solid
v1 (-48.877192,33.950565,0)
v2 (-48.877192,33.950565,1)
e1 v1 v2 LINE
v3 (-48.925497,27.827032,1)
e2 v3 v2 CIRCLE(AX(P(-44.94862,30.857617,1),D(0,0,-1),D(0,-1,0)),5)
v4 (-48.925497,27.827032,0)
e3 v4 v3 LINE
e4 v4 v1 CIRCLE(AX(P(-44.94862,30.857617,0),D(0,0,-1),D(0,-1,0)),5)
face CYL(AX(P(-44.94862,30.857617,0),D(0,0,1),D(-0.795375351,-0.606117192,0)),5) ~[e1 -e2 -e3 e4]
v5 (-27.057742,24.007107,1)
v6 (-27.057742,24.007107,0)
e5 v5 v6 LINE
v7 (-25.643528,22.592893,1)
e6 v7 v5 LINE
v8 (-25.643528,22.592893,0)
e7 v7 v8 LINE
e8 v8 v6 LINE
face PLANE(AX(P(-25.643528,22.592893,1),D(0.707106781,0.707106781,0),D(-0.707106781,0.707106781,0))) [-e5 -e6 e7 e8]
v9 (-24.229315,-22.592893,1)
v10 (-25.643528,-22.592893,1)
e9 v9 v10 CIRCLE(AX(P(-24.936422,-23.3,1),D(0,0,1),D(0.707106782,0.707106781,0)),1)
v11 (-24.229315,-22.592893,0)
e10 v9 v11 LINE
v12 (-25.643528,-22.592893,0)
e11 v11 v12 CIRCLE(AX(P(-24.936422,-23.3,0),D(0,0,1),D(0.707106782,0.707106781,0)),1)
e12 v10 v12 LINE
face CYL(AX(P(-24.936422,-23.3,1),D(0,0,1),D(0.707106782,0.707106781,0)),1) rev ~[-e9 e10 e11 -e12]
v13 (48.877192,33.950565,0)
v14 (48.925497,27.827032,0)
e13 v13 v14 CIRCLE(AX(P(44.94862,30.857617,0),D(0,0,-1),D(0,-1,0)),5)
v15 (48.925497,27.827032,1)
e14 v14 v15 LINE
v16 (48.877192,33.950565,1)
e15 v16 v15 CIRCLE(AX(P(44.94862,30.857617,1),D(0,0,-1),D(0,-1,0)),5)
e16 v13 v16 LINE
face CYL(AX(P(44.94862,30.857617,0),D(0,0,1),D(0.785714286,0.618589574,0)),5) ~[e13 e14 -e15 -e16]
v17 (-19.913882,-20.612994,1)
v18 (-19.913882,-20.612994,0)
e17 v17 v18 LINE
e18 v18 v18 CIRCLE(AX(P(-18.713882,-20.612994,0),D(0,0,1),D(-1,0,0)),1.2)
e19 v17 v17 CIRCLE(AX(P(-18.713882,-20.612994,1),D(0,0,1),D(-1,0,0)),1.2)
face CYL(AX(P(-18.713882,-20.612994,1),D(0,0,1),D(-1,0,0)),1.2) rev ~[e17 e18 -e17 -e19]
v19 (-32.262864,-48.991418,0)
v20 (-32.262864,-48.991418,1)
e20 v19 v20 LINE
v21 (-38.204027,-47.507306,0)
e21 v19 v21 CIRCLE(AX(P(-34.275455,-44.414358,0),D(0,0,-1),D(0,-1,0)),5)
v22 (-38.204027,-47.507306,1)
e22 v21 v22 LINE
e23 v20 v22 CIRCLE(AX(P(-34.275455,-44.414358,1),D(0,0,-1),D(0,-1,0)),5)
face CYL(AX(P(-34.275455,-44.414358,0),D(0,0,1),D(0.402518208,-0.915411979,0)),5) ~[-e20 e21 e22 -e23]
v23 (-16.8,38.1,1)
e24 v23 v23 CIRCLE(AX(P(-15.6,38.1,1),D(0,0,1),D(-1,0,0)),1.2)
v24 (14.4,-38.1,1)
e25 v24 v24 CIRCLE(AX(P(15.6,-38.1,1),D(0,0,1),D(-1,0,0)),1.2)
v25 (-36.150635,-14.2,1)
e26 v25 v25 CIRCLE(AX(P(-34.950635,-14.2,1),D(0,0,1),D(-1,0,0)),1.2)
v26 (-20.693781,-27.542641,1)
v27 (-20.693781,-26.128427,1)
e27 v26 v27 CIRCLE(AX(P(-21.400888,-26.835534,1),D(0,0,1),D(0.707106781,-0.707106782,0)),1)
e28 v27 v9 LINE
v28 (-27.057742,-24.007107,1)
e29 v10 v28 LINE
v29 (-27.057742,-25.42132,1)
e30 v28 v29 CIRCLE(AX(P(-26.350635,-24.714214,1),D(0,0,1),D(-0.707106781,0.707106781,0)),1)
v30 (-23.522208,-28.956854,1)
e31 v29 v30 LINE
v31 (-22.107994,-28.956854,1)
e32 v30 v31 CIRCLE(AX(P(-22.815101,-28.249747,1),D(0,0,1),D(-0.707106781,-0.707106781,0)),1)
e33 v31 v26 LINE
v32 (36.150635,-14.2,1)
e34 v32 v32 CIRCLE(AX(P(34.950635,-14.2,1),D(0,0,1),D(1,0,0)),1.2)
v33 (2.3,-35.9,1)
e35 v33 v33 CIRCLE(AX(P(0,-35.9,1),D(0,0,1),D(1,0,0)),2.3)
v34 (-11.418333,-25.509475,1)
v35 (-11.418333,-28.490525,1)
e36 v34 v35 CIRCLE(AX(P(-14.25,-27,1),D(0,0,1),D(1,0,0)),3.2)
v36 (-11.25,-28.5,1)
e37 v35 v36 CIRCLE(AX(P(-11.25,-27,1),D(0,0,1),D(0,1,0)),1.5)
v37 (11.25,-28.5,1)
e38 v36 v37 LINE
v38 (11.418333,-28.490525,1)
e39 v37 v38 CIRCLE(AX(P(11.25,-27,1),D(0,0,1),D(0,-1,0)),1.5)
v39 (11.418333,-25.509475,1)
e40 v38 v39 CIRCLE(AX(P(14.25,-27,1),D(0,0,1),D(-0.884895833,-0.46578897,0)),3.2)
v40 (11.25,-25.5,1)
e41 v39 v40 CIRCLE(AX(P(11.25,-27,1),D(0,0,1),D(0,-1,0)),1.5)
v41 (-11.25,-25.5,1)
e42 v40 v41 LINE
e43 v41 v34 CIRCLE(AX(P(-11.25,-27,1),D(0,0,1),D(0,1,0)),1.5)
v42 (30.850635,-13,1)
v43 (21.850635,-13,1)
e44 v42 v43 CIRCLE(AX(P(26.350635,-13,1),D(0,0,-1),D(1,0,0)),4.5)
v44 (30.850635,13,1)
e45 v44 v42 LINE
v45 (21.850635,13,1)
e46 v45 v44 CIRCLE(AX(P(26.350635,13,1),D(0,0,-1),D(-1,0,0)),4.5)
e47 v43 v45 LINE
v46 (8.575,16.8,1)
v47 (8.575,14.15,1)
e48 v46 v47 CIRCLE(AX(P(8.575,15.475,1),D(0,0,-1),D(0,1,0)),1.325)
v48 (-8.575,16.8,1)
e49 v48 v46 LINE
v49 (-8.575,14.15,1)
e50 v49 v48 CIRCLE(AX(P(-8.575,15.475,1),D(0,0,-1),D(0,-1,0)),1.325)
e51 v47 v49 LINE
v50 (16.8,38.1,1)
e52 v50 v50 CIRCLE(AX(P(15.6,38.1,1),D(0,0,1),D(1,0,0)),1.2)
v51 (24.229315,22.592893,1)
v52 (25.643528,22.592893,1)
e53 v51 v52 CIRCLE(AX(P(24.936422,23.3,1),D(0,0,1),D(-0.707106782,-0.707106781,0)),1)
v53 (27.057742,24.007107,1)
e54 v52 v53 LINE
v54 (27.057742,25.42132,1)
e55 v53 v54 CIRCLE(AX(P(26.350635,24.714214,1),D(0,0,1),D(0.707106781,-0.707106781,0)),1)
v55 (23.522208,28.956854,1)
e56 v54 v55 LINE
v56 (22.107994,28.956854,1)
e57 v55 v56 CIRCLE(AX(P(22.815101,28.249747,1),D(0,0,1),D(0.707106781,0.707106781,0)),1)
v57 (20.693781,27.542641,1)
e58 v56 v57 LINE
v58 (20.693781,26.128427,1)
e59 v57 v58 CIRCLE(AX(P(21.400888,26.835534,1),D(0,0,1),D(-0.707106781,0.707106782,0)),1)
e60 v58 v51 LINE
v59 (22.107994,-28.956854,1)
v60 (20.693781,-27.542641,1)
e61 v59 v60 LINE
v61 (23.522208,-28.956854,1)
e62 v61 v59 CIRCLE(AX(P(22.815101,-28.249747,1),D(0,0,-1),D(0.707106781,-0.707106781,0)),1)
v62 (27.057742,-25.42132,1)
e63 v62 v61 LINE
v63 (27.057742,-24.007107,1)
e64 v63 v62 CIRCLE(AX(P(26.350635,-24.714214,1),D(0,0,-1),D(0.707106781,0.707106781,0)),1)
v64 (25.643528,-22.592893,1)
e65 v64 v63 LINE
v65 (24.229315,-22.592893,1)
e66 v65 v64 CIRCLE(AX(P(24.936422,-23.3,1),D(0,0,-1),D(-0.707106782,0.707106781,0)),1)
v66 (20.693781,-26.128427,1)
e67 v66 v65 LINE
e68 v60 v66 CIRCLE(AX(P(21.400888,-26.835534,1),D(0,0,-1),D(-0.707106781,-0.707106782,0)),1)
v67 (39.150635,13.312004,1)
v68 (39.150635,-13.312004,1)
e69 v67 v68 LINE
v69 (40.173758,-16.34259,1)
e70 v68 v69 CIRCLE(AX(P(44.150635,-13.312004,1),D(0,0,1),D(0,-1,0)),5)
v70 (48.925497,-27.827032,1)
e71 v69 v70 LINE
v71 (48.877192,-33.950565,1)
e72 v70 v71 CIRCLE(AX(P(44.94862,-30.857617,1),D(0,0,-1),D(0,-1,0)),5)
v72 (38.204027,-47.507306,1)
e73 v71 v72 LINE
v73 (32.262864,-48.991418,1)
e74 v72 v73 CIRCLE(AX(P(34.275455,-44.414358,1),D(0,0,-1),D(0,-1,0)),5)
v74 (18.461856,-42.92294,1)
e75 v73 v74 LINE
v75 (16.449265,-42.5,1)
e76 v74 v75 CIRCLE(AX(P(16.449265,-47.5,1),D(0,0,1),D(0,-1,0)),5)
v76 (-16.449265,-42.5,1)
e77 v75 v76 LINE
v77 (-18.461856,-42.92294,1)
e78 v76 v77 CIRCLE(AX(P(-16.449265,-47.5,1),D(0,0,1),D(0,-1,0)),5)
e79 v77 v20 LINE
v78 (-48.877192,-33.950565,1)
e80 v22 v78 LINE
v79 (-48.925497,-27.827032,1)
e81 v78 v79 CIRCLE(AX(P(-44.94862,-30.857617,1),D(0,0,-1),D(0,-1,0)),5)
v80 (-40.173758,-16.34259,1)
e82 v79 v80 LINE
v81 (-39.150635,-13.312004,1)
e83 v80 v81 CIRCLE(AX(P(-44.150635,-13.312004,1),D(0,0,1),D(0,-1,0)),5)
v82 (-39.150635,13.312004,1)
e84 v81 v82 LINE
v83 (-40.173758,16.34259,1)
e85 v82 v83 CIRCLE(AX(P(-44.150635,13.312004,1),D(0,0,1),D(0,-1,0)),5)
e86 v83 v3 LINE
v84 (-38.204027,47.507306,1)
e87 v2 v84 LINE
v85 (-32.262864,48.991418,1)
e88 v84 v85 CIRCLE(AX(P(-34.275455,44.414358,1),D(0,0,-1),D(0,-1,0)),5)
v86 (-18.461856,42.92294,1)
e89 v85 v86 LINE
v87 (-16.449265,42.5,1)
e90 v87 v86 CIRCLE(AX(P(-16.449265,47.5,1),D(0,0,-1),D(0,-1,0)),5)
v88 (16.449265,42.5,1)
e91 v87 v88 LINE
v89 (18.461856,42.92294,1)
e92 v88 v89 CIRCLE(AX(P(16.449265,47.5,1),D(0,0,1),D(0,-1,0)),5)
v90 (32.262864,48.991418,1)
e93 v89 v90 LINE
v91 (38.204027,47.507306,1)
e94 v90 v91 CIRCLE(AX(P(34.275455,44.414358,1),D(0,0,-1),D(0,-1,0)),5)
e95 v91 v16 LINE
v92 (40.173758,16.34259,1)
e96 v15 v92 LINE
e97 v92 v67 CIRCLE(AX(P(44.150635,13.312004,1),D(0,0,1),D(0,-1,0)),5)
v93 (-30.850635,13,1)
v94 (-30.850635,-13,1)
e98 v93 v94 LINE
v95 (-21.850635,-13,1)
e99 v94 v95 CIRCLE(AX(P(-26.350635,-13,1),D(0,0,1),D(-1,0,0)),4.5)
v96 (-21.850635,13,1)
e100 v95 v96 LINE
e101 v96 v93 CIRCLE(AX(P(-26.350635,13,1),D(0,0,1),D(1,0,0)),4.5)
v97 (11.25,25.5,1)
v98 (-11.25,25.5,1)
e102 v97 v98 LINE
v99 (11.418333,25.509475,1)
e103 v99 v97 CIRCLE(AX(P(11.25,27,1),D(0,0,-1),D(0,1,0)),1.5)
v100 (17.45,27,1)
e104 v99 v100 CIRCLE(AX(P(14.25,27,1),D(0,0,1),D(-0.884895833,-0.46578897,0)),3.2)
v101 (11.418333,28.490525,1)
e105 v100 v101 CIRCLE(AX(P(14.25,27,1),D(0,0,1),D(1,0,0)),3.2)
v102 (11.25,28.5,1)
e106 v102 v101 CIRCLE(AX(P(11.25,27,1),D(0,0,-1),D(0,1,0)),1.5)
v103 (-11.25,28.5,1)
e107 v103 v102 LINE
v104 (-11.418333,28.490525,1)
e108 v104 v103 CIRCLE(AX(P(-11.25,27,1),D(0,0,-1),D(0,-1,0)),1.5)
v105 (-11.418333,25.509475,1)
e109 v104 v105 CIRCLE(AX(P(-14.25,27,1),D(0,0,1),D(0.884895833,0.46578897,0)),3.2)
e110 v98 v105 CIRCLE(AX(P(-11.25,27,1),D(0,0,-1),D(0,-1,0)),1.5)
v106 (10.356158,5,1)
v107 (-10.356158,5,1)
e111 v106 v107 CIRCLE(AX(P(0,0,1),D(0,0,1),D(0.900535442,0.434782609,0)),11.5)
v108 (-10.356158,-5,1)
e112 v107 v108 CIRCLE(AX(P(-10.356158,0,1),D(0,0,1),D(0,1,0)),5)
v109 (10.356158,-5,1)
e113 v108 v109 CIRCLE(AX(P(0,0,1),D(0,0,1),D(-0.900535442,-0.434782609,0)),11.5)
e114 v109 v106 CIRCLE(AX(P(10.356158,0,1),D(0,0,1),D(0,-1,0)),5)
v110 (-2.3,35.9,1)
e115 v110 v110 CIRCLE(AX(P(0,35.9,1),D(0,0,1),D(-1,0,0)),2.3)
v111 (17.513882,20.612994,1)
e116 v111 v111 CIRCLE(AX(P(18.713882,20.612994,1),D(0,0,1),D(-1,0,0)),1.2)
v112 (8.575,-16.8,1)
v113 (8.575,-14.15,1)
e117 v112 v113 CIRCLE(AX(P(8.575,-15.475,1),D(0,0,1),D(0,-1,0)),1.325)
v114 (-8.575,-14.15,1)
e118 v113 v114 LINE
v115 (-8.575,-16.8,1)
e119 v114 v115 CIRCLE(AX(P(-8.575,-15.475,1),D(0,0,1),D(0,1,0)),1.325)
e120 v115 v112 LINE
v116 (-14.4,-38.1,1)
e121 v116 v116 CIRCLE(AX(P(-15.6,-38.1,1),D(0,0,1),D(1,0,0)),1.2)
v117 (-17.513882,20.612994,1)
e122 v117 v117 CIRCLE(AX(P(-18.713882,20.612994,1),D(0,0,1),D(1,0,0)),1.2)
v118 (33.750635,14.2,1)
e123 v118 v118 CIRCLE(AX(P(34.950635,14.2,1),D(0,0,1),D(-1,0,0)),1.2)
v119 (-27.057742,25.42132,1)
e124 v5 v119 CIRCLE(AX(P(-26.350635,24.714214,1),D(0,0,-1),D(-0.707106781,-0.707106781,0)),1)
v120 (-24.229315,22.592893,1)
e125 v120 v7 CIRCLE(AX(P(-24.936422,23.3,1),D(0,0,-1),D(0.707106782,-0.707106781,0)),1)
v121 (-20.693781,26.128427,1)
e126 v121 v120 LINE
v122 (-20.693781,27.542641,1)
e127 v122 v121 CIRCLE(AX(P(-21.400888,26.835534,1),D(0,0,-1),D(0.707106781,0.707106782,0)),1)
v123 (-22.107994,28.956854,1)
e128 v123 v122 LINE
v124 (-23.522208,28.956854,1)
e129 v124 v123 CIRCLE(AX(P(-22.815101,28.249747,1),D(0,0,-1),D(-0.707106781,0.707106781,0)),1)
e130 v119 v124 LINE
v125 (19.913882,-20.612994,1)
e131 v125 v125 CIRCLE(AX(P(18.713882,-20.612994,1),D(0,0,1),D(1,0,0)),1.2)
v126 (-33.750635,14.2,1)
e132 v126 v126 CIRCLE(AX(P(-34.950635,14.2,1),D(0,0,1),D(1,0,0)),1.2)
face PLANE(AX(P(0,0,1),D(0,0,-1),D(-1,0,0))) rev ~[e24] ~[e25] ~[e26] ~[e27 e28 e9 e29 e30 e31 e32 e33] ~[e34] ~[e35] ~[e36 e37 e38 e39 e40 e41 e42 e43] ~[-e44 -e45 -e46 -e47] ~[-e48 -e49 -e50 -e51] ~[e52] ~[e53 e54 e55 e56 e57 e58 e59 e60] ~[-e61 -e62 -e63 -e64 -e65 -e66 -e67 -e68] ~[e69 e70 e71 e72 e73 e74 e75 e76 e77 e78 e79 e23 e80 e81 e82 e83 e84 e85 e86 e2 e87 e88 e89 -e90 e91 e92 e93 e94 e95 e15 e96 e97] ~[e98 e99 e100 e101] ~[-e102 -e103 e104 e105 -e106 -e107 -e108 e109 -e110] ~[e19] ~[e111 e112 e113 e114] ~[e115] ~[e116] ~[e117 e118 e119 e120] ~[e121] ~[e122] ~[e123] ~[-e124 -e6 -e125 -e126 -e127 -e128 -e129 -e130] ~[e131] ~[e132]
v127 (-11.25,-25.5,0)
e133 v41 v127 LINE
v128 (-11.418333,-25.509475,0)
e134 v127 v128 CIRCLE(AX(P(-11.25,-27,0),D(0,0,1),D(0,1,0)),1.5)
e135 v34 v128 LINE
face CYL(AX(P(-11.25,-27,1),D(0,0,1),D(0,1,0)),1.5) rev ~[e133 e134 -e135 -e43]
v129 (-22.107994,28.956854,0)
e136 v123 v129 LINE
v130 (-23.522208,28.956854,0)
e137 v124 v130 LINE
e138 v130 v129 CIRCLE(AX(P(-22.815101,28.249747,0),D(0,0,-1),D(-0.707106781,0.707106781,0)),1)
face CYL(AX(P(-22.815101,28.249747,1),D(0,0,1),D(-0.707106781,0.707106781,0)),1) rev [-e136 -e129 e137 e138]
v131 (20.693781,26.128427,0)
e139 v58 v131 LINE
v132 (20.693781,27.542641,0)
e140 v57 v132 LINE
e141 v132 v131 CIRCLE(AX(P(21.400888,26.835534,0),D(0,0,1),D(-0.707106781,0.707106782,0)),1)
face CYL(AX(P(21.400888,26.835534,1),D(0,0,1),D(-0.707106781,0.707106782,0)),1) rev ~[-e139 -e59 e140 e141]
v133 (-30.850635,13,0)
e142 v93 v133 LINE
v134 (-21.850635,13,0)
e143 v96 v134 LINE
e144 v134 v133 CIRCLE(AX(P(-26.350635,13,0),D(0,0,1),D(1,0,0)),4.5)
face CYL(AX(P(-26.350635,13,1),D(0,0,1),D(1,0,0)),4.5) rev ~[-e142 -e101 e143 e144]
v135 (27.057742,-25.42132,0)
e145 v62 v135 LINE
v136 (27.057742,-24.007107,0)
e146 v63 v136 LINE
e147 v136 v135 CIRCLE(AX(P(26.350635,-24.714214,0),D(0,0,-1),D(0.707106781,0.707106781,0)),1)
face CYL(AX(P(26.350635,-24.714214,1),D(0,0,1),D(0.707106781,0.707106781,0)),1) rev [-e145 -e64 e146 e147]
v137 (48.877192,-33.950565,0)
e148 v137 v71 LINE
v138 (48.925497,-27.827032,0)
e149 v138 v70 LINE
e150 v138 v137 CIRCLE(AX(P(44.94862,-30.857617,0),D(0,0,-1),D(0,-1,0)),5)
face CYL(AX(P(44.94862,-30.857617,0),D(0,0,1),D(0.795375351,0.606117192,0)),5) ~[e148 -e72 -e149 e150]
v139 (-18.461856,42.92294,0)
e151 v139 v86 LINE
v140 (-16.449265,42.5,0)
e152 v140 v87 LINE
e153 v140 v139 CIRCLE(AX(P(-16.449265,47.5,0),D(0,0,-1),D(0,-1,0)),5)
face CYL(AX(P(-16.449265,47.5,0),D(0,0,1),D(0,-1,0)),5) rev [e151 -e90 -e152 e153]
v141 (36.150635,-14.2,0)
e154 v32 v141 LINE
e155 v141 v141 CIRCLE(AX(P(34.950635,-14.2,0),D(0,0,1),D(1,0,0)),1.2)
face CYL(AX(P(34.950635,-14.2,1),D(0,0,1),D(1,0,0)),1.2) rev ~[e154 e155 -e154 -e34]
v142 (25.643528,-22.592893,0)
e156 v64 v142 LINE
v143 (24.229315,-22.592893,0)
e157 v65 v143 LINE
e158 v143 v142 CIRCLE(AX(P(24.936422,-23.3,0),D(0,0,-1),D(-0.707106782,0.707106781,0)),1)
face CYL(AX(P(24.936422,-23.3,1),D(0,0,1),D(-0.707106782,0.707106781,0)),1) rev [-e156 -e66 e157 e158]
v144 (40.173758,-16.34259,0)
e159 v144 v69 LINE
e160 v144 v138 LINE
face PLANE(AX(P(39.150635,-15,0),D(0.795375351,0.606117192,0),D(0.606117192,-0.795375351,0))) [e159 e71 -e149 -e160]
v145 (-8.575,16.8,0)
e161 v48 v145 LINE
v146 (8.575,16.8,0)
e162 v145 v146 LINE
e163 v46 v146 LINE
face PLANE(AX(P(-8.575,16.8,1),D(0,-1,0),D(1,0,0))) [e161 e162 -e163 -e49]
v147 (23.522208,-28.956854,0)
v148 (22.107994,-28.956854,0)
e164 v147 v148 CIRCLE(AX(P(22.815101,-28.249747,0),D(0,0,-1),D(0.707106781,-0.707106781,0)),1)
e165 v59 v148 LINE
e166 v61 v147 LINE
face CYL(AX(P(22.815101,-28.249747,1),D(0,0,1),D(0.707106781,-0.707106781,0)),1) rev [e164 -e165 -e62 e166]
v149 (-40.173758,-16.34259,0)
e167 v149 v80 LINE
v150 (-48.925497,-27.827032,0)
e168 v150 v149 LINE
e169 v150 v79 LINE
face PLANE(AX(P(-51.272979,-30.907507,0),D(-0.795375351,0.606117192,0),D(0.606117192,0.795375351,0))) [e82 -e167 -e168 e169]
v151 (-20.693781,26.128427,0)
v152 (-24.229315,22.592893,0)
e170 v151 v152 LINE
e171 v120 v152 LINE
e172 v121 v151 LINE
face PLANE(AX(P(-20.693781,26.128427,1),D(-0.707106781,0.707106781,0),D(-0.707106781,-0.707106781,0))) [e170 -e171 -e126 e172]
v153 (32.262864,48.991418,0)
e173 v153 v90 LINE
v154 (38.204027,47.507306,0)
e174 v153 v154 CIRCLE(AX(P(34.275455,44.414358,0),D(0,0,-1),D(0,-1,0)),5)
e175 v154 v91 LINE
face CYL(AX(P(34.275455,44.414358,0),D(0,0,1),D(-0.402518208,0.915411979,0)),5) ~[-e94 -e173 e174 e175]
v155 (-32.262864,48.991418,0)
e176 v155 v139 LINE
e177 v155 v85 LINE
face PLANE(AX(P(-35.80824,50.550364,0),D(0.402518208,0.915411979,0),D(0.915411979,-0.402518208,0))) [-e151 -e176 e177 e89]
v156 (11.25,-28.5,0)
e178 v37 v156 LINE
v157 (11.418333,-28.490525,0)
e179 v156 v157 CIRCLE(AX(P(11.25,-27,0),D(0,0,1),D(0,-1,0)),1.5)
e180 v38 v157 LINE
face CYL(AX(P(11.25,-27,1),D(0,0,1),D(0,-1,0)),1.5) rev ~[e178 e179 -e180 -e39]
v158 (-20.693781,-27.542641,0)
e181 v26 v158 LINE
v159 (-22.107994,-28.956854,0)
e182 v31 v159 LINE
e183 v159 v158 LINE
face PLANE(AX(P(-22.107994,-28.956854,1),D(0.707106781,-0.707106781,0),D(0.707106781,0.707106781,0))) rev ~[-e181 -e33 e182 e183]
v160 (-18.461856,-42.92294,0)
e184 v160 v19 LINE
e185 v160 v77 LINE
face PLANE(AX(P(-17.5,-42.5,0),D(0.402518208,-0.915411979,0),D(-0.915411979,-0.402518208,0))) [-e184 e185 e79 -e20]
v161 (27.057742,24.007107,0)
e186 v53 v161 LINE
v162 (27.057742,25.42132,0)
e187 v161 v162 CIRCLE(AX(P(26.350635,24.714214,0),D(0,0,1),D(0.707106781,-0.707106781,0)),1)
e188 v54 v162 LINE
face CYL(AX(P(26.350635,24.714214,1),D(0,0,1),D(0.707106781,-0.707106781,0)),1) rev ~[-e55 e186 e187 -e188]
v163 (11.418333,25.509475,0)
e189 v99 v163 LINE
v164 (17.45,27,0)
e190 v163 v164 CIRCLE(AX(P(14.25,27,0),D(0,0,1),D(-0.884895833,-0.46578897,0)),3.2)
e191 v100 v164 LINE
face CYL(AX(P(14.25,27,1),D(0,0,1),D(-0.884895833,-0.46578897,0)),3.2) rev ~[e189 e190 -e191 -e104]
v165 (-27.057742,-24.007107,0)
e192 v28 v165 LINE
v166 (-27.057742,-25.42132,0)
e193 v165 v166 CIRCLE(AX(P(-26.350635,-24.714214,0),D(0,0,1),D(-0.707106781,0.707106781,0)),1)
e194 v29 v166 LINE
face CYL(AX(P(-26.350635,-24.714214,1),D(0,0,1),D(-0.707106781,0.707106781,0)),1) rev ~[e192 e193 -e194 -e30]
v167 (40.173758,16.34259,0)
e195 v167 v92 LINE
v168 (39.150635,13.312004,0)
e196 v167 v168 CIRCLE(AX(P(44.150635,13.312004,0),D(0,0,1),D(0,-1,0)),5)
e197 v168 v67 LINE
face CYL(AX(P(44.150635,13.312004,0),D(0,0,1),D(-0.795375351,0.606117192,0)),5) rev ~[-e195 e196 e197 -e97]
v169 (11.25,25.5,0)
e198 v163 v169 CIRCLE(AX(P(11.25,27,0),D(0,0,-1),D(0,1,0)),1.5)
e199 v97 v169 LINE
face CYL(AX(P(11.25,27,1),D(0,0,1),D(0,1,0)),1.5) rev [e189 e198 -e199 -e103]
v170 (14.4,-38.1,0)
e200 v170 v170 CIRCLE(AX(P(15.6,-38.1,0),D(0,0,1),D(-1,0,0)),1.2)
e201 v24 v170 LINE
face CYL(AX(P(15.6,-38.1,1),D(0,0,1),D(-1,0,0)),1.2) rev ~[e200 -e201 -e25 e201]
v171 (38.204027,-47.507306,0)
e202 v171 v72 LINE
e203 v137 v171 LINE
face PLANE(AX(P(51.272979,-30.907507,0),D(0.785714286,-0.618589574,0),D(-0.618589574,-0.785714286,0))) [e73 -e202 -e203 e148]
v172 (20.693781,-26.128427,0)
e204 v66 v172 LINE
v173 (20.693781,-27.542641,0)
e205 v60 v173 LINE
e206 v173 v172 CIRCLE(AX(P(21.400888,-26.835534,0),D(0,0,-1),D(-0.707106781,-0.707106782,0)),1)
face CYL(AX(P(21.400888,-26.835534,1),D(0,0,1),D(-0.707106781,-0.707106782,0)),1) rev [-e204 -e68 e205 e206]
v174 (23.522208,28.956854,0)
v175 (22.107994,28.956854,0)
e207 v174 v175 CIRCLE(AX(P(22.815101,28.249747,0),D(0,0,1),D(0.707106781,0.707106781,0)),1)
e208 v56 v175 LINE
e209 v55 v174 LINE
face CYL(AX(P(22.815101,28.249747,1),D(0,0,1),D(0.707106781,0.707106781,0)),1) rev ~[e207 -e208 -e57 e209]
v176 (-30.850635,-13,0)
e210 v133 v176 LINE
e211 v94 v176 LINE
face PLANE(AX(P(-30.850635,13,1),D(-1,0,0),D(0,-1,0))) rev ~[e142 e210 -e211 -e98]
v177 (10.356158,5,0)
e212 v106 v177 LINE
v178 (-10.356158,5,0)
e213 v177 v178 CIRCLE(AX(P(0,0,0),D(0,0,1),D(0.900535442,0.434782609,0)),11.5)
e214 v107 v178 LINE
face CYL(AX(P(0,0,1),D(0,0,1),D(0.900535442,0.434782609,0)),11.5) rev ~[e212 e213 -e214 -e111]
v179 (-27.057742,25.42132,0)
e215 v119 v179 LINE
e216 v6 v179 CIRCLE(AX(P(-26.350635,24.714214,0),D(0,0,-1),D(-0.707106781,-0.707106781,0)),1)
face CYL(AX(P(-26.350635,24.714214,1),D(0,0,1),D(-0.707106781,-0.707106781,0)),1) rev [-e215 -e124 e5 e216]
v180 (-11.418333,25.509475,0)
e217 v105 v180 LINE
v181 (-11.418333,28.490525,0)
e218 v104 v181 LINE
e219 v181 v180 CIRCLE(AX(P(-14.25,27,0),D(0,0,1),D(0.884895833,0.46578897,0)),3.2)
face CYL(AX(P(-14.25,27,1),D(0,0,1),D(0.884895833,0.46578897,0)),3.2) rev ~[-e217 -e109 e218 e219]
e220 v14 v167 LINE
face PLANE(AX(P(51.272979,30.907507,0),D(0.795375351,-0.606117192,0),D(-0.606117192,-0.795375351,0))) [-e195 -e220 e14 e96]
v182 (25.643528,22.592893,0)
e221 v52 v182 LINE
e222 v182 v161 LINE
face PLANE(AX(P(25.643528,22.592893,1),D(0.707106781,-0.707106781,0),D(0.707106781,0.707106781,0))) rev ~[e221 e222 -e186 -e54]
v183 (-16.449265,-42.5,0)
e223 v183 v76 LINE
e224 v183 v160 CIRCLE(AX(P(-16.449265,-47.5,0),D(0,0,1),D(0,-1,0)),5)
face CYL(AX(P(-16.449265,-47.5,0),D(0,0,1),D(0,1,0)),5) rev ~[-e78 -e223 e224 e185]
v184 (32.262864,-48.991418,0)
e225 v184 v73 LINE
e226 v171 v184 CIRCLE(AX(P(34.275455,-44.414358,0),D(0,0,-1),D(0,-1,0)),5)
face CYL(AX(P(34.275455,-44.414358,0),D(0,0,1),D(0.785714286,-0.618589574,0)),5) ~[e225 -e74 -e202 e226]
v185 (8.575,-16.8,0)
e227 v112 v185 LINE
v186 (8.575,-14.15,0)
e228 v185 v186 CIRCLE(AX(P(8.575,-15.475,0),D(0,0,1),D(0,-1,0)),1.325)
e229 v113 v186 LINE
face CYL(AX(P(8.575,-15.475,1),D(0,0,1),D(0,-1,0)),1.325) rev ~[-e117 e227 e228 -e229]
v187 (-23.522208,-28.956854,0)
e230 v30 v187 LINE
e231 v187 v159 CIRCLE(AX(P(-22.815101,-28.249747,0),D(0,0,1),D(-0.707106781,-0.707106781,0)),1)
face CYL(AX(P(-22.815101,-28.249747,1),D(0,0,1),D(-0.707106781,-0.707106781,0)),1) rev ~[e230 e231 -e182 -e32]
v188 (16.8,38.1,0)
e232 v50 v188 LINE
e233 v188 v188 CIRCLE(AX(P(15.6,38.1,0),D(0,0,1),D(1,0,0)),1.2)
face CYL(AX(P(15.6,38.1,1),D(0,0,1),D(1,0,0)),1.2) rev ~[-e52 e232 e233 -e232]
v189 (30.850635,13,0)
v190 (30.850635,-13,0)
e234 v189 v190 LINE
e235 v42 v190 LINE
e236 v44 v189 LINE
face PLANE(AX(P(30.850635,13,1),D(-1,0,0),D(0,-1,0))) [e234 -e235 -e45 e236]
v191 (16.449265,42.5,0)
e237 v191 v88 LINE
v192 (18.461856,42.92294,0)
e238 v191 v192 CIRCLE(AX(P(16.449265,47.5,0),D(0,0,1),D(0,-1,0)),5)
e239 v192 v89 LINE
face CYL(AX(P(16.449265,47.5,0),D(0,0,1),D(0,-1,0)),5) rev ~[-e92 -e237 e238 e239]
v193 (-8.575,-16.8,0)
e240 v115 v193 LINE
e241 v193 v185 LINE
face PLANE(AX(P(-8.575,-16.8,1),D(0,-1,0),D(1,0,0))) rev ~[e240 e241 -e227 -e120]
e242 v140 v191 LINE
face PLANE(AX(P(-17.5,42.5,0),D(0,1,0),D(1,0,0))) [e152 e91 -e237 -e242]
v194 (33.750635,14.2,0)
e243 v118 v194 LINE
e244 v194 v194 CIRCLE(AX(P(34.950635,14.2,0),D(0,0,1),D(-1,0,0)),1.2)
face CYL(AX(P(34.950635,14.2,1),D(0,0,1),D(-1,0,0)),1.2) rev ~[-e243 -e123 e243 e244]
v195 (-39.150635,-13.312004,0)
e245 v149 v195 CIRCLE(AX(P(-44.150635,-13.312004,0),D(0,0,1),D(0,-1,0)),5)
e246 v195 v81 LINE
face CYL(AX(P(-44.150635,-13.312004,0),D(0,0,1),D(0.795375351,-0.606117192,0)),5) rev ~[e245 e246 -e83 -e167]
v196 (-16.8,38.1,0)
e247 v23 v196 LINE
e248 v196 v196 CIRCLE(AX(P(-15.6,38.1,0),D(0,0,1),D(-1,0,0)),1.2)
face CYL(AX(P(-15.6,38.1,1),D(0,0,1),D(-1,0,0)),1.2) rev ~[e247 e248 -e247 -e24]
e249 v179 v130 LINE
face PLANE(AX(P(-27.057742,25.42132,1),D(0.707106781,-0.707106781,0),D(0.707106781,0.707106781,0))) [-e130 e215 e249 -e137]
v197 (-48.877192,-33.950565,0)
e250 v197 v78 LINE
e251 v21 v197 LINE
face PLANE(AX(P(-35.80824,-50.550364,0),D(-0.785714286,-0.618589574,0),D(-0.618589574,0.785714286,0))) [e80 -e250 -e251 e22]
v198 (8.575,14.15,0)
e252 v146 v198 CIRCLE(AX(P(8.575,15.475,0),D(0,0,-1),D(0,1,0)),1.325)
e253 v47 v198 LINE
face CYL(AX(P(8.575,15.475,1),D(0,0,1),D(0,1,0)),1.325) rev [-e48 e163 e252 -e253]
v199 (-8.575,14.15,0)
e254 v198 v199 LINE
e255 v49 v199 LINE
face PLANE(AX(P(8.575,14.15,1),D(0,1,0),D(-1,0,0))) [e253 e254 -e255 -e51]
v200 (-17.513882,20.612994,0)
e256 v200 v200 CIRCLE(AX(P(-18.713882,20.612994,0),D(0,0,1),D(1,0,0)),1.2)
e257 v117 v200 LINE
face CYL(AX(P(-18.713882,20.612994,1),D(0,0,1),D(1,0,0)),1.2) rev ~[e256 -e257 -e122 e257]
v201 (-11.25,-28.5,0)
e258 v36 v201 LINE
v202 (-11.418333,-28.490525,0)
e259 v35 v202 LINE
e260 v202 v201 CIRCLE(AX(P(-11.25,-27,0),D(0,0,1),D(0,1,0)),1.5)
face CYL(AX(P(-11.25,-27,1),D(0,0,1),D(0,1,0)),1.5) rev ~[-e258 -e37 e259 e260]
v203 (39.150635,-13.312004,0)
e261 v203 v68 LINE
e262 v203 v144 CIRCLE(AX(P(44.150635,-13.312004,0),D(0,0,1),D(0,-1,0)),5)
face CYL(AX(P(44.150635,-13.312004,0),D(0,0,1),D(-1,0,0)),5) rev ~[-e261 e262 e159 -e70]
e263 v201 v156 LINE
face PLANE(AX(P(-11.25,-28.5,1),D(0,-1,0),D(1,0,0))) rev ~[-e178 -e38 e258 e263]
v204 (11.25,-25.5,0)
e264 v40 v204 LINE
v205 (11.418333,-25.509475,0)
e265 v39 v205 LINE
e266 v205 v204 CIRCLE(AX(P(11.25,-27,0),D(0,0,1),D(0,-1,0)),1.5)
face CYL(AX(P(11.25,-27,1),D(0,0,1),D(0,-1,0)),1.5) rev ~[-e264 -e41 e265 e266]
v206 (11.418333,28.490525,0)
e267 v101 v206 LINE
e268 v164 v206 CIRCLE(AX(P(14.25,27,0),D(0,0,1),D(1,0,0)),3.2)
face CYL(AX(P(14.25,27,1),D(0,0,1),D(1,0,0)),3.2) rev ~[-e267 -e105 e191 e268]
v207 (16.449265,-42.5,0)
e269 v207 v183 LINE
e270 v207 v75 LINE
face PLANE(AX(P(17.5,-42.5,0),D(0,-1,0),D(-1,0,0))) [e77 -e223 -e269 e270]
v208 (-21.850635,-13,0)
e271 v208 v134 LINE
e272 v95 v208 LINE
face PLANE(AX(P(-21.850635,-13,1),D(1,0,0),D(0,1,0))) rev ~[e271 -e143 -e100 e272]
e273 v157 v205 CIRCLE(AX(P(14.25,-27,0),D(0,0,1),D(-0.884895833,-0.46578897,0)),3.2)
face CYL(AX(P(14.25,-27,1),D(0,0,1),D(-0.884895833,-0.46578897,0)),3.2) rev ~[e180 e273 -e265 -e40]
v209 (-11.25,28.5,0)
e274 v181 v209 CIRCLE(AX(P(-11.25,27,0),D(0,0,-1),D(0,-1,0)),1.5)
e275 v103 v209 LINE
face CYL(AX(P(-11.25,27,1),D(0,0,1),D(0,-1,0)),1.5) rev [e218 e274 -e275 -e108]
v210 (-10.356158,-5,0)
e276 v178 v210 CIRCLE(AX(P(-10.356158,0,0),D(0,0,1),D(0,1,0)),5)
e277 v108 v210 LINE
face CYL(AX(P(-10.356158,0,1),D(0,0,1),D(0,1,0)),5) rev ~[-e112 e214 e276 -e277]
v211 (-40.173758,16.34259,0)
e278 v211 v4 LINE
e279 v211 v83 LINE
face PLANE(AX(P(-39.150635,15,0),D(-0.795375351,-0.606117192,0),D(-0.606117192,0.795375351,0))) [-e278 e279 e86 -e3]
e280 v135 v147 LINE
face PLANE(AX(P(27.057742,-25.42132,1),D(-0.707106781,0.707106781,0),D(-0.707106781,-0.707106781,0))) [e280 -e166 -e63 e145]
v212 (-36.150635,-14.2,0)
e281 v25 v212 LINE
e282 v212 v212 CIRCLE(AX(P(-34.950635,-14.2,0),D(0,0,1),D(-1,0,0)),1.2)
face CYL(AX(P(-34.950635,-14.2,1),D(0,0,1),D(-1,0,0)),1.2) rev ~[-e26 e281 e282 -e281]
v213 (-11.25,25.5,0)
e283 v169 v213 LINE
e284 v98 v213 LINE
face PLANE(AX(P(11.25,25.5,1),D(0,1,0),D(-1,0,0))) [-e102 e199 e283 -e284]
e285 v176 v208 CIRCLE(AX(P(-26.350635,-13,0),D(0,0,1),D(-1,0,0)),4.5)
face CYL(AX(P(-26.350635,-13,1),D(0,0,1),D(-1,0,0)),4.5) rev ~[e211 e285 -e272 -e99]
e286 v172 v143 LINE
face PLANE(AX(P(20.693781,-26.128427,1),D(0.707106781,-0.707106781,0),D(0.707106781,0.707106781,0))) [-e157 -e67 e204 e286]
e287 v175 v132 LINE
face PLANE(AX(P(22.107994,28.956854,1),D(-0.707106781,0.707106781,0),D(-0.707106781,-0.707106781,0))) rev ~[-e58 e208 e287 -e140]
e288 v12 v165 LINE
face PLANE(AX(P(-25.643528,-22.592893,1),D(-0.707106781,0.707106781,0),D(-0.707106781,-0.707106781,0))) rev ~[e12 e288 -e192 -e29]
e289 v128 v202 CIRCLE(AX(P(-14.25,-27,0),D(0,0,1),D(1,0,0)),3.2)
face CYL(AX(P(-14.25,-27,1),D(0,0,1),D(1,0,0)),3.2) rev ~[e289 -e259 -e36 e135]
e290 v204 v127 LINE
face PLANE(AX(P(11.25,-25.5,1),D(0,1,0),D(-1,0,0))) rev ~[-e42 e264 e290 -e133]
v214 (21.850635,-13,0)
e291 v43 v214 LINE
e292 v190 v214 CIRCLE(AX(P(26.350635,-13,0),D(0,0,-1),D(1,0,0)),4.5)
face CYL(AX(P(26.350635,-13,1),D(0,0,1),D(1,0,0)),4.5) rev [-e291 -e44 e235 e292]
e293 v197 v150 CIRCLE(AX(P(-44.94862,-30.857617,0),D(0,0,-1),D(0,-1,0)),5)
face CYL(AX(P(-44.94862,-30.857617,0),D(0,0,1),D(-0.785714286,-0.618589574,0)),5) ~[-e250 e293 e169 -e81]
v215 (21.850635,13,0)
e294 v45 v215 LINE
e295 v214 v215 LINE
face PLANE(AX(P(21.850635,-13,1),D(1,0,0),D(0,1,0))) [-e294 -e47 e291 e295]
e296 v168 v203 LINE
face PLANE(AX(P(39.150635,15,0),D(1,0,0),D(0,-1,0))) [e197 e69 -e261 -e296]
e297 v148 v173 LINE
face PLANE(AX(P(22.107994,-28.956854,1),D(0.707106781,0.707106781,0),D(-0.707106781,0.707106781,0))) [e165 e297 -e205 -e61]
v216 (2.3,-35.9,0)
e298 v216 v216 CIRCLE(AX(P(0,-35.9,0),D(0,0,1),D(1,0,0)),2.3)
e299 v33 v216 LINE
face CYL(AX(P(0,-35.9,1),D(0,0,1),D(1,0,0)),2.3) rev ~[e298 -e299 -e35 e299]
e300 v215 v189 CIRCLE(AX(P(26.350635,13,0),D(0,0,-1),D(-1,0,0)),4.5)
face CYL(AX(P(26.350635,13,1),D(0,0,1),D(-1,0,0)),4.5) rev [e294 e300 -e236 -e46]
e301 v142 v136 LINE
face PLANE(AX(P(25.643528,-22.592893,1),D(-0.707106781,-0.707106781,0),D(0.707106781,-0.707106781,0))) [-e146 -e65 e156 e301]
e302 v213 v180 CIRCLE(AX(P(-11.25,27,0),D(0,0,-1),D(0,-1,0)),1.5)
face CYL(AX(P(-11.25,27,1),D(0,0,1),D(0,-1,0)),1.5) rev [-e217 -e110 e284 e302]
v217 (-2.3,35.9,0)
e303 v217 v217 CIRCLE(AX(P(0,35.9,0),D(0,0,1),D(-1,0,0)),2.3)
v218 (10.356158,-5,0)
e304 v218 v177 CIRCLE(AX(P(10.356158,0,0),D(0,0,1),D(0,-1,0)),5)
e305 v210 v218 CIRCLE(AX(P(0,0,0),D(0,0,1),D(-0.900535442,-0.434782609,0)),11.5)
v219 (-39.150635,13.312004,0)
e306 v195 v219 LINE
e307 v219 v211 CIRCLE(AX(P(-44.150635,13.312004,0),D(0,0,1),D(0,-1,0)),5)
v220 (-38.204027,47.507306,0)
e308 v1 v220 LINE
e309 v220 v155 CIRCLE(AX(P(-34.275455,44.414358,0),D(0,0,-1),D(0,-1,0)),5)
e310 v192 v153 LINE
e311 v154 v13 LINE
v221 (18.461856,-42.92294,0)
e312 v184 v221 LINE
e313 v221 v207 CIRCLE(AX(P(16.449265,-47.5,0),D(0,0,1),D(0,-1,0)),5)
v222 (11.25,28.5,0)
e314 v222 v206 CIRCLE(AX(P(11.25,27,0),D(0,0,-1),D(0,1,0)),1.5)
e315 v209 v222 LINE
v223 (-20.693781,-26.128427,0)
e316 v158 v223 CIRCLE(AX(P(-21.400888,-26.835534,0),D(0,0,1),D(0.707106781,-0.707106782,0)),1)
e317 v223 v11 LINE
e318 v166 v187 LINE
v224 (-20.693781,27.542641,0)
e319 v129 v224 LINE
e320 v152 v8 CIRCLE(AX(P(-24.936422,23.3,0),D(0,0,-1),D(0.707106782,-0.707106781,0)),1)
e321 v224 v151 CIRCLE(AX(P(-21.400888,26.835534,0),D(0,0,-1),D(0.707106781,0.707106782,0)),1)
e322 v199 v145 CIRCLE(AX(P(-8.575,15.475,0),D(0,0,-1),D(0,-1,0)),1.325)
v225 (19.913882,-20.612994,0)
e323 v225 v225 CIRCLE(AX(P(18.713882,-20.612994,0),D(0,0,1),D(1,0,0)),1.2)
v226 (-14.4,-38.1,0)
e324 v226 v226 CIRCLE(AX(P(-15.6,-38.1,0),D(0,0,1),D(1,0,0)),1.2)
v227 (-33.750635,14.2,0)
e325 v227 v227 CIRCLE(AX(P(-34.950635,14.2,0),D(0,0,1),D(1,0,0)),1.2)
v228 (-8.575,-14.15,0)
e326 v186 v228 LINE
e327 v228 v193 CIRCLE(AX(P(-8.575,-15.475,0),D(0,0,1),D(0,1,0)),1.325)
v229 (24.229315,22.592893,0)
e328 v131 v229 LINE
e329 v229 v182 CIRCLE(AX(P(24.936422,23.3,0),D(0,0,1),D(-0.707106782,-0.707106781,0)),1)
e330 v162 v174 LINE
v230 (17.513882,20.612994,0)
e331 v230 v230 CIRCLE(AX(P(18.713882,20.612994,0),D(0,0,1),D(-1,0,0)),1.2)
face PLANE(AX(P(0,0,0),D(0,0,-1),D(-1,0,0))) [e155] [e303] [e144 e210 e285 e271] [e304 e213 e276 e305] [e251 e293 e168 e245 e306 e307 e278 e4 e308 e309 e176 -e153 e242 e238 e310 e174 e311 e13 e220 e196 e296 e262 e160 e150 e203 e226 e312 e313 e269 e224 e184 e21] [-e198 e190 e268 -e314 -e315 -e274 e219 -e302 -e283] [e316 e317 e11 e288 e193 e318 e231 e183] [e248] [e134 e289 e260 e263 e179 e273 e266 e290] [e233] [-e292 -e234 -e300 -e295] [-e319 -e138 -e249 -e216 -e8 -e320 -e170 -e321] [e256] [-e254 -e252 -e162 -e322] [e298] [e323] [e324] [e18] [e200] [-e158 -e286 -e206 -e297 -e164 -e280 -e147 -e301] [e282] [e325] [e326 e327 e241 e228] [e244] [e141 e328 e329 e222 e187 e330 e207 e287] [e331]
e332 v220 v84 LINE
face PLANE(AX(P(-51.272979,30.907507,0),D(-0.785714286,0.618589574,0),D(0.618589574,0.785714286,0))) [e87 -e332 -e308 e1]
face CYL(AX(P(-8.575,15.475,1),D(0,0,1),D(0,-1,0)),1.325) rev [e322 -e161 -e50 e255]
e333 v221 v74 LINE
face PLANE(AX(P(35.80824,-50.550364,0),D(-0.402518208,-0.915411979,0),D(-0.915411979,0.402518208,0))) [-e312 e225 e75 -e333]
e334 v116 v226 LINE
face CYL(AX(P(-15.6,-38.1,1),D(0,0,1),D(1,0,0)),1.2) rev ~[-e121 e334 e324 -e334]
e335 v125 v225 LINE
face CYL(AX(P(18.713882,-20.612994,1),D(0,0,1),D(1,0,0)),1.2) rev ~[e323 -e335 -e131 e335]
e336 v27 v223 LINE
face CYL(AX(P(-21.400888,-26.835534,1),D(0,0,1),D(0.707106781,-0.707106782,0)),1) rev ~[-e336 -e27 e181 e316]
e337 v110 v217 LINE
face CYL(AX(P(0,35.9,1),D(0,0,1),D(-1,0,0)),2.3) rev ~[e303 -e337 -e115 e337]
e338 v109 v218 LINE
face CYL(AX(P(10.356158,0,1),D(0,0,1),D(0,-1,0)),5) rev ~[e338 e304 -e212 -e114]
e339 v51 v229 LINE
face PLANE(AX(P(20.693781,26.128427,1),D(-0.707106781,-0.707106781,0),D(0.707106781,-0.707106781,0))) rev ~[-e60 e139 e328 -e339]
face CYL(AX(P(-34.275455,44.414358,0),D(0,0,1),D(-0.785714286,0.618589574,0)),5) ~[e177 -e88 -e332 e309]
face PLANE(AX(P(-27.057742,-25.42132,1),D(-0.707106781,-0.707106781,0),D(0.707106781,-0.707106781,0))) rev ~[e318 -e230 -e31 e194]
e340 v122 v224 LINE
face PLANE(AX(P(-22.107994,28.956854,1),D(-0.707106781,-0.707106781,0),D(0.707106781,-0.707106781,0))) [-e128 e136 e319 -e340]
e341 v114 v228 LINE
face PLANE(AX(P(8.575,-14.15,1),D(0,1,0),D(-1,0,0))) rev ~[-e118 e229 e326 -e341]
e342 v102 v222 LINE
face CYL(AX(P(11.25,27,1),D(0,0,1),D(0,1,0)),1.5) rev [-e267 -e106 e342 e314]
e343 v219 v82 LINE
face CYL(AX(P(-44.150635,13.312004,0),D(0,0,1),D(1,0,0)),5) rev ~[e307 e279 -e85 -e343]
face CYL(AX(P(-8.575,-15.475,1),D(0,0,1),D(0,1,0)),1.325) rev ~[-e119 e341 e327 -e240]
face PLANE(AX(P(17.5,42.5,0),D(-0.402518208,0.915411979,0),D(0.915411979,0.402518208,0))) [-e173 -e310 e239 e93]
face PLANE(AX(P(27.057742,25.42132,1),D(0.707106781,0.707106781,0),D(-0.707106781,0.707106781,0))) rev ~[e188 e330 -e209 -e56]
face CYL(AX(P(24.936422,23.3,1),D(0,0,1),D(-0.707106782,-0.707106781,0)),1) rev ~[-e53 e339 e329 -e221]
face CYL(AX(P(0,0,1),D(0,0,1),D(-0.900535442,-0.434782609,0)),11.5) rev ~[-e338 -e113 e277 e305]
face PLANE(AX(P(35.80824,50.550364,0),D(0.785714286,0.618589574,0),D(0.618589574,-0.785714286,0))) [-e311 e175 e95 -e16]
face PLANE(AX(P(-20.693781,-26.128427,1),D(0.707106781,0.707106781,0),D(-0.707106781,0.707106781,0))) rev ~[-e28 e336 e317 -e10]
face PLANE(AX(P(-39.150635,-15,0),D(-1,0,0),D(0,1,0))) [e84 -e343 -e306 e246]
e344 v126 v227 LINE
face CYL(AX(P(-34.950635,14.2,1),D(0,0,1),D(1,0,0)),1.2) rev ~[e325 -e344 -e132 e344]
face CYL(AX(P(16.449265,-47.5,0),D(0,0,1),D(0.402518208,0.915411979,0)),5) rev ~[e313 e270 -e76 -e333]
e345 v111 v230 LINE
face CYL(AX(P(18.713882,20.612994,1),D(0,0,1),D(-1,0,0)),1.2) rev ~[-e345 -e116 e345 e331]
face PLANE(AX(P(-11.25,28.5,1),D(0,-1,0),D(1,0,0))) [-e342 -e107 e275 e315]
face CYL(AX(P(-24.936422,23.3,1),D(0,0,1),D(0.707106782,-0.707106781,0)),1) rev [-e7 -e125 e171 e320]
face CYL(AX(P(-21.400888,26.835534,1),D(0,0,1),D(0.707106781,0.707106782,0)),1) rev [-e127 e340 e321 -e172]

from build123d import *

# Parameters (mm, degrees)
BOSS_EXTRUDE1_DEPTH = 1
FILLET1_R           = 5
SKETCH3_R           = 3.2
CUT_EXTRUDE1_DEPTH  = 1
SKETCH5_R           = 2.3
SKETCH5_R_2         = 1.2
CUT_EXTRUDE2_DEPTH  = 1


with BuildPart() as part:
    # Sketch1 → Boss-Extrude1 (new body)
    with BuildSketch(Plane.XY):
        Polygon((-17.5, 42.5), (17.5, 42.5), (35.808239588, 50.550364165), (51.272978941, 30.907507022), (39.150635095, 15), (39.150635095, -15), (51.272978941, -30.907507022), (35.808239588, -50.550364165), (17.5, -42.5), (-17.5, -42.5), (-35.808239588, -50.550364165), (-51.272978941, -30.907507022), (-39.150635095, -15), (-39.150635095, 15), (-51.272978941, 30.907507022), (-35.808239588, 50.550364165), align=None)
    extrude(amount=BOSS_EXTRUDE1_DEPTH)

    # Fillet1
    fillet1_edges = [part.edges().sort_by_distance(p)[0] for p in [
        (-17.5, 42.5, 0.5),
        (17.5, 42.5, 0.5),
        (35.808239588, 50.550364165, 0.5),
        (51.272978941, 30.907507022, 0.5),
        (39.150635095, 15, 0.5),
        (39.150635095, -15, 0.5),
        (51.272978941, -30.907507022, 0.5),
        (35.808239588, -50.550364165, 0.5),
        (17.5, -42.5, 0.5),
        (-17.5, -42.5, 0.5),
        (-35.808239588, -50.550364165, 0.5),
        (-51.272978941, -30.907507022, 0.5),
        (-39.150635095, -15, 0.5),
        (-39.150635095, 15, 0.5),
        (-51.272978941, 30.907507022, 0.5),
        (-35.808239588, 50.550364165, 0.5),
    ]]
    fillet(fillet1_edges, radius=FILLET1_R)

    # Sketch3 → Cut-Extrude1 (cut)
    with BuildSketch(Plane.XY.offset(1)):
        with BuildLine():
            Line((-30.850635095, 13), (-30.850635095, -13))
            ThreePointArc((-30.850635095, -13), (-26.350635095, -17.5), (-21.850635095, -13))
            Line((-21.850635095, -13), (-21.850635095, 13))
            ThreePointArc((-21.850635095, 13), (-26.350635095, 17.5), (-30.850635095, 13))
        make_face()
        with BuildLine():
            Line((-27.057741876, 25.421320344), (-23.52220797, 28.956854249))
            ThreePointArc((-23.52220797, 28.956854249), (-22.815101189, 29.249747468), (-22.107994407, 28.956854249))
            Line((-22.107994407, 28.956854249), (-20.693780845, 27.542640687))
            ThreePointArc((-20.693780845, 27.542640687), (-20.400887626, 26.835533906), (-20.693780845, 26.128427125))
            Line((-20.693780845, 26.128427125), (-24.229314751, 22.592893219))
            ThreePointArc((-24.229314751, 22.592893219), (-24.936421532, 22.3), (-25.643528313, 22.592893219))
            Line((-25.643528313, 22.592893219), (-27.057741876, 24.007106781))
            ThreePointArc((-27.057741876, 24.007106781), (-27.350635095, 24.714213562), (-27.057741876, 25.421320344))
        make_face()
        with BuildLine():
            ThreePointArc((-11.418333333, 28.490524703), (-12.75, 27), (-11.418333333, 25.509475297))
            ThreePointArc((-11.418333333, 25.509475297), (-11.143447785, 26.232319511), (-11.05, 27))
            ThreePointArc((-11.05, 27), (-11.143447785, 27.767680489), (-11.418333333, 28.490524703))
        make_face()
        with BuildLine():
            ThreePointArc((-11.418333333, 28.490524703), (-17.45, 27), (-11.418333333, 25.509475297))
            ThreePointArc((-11.418333333, 25.509475297), (-12.75, 27), (-11.418333333, 28.490524703))
        make_face()
        with BuildLine():
            ThreePointArc((11.418333333, 28.490524703), (12.75, 27), (11.418333333, 25.509475297))
            ThreePointArc((11.418333333, 25.509475297), (15.017680489, 23.893447785), (17.45, 27))
            ThreePointArc((17.45, 27), (15.017680489, 30.106552215), (11.418333333, 28.490524703))
        make_face()
        with BuildLine():
            ThreePointArc((11.418333333, 28.490524703), (11.05, 27), (11.418333333, 25.509475297))
            ThreePointArc((11.418333333, 25.509475297), (12.75, 27), (11.418333333, 28.490524703))
        make_face()
        with Locations((14.25, 27)):
            Circle(SKETCH3_R)
        with Locations((-14.25, 27)):
            Circle(SKETCH3_R)
        with BuildLine():
            ThreePointArc((11.25, 28.5), (12.75, 27), (11.25, 25.5))
            Line((11.25, 25.5), (-11.25, 25.5))
            ThreePointArc((-11.25, 25.5), (-12.75, 27), (-11.25, 28.5))
            Line((-11.25, 28.5), (11.25, 28.5))
        make_face()
        with BuildLine():
            Line((20.693780845, 26.128427125), (24.229314751, 22.592893219))
            ThreePointArc((24.229314751, 22.592893219), (24.936421532, 22.3), (25.643528313, 22.592893219))
            Line((25.643528313, 22.592893219), (27.057741876, 24.007106781))
            ThreePointArc((27.057741876, 24.007106781), (27.350635095, 24.714213562), (27.057741876, 25.421320344))
            Line((27.057741876, 25.421320344), (23.52220797, 28.956854249))
            ThreePointArc((23.52220797, 28.956854249), (22.815101189, 29.249747468), (22.107994407, 28.956854249))
            Line((22.107994407, 28.956854249), (20.693780845, 27.542640687))
            ThreePointArc((20.693780845, 27.542640687), (20.400887626, 26.835533906), (20.693780845, 26.128427125))
        make_face()
        with BuildLine():
            ThreePointArc((30.850635095, -13), (26.350635095, -17.5), (21.850635095, -13))
            Line((21.850635095, -13), (21.850635095, 13))
            ThreePointArc((21.850635095, 13), (26.350635095, 17.5), (30.850635095, 13))
            Line((30.850635095, 13), (30.850635095, -13))
        make_face()
        with BuildLine():
            ThreePointArc((8.575, 16.8), (9.9, 15.475), (8.575, 14.15))
            Line((8.575, 14.15), (-8.575, 14.15))
            ThreePointArc((-8.575, 14.15), (-9.9, 15.475), (-8.575, 16.8))
            Line((-8.575, 16.8), (8.575, 16.8))
        make_face()
        with BuildLine():
            ThreePointArc((10.356157589, 5), (0, 11.5), (-10.356157589, 5))
            Line((-10.356157589, 5), (10.356157589, 5))
        make_face()
        with BuildLine():
            Line((10.356157589, 5), (-10.356157589, 5))
            ThreePointArc((-10.356157589, 5), (-11.5, 0), (-10.356157589, -5))
            Line((-10.356157589, -5), (10.356157589, -5))
            ThreePointArc((10.356157589, -5), (11.210392773, -2.564584541), (11.5, 0))
            ThreePointArc((11.5, 0), (11.210392773, 2.564584541), (10.356157589, 5))
        make_face()
        with BuildLine():
            ThreePointArc((10.356157589, -5), (15.356157589, 0), (10.356157589, 5))
            ThreePointArc((10.356157589, 5), (11.210392773, 2.564584541), (11.5, 0))
            ThreePointArc((11.5, 0), (11.210392773, -2.564584541), (10.356157589, -5))
        make_face()
        with BuildLine():
            Line((10.356157589, -5), (-10.356157589, -5))
            ThreePointArc((-10.356157589, -5), (0, -11.5), (10.356157589, -5))
        make_face()
        with BuildLine():
            ThreePointArc((-10.356157589, -5), (-11.5, 0), (-10.356157589, 5))
            ThreePointArc((-10.356157589, 5), (-15.356157589, 0), (-10.356157589, -5))
        make_face()
        with Locations((14.25, -27)):
            Circle(SKETCH3_R)
        with Locations((-14.25, -27)):
            Circle(SKETCH3_R)
        with BuildLine():
            ThreePointArc((11.25, -28.5), (12.75, -27), (11.25, -25.5))
            Line((11.25, -25.5), (-11.25, -25.5))
            ThreePointArc((-11.25, -25.5), (-12.75, -27), (-11.25, -28.5))
            Line((-11.25, -28.5), (11.25, -28.5))
        make_face()
        with BuildLine():
            Line((-8.575, -16.8), (8.575, -16.8))
            ThreePointArc((8.575, -16.8), (9.9, -15.475), (8.575, -14.15))
            Line((8.575, -14.15), (-8.575, -14.15))
            ThreePointArc((-8.575, -14.15), (-9.9, -15.475), (-8.575, -16.8))
        make_face()
        with BuildLine():
            ThreePointArc((17.45, -27), (15.017680489, -23.893447785), (11.418333333, -25.509475297))
            ThreePointArc((11.418333333, -25.509475297), (12.75, -27), (11.418333333, -28.490524703))
            ThreePointArc((11.418333333, -28.490524703), (15.017680489, -30.106552215), (17.45, -27))
        make_face()
        with BuildLine():
            ThreePointArc((11.418333333, -28.490524703), (12.75, -27), (11.418333333, -25.509475297))
            ThreePointArc((11.418333333, -25.509475297), (11.05, -27), (11.418333333, -28.490524703))
        make_face()
        with BuildLine():
            ThreePointArc((-11.05, -27), (-11.143447785, -26.232319511), (-11.418333333, -25.509475297))
            ThreePointArc((-11.418333333, -25.509475297), (-12.75, -27), (-11.418333333, -28.490524703))
            ThreePointArc((-11.418333333, -28.490524703), (-11.143447785, -27.767680489), (-11.05, -27))
        make_face()
        with BuildLine():
            ThreePointArc((-11.418333333, -28.490524703), (-12.75, -27), (-11.418333333, -25.509475297))
            ThreePointArc((-11.418333333, -25.509475297), (-17.45, -27), (-11.418333333, -28.490524703))
        make_face()
        with BuildLine():
            Line((-20.693780845, -26.128427125), (-24.229314751, -22.592893219))
            ThreePointArc((-24.229314751, -22.592893219), (-24.936421532, -22.3), (-25.643528313, -22.592893219))
            Line((-25.643528313, -22.592893219), (-27.057741876, -24.007106781))
            ThreePointArc((-27.057741876, -24.007106781), (-27.350635095, -24.714213562), (-27.057741876, -25.421320344))
            Line((-27.057741876, -25.421320344), (-23.52220797, -28.956854249))
            ThreePointArc((-23.52220797, -28.956854249), (-22.815101189, -29.249747468), (-22.107994407, -28.956854249))
            Line((-22.107994407, -28.956854249), (-20.693780845, -27.542640687))
            ThreePointArc((-20.693780845, -27.542640687), (-20.400887626, -26.835533906), (-20.693780845, -26.128427125))
        make_face()
        with BuildLine():
            Line((27.057741876, -25.421320344), (23.52220797, -28.956854249))
            ThreePointArc((23.52220797, -28.956854249), (22.815101189, -29.249747468), (22.107994407, -28.956854249))
            Line((22.107994407, -28.956854249), (20.693780845, -27.542640687))
            ThreePointArc((20.693780845, -27.542640687), (20.400887626, -26.835533906), (20.693780845, -26.128427125))
            Line((20.693780845, -26.128427125), (24.229314751, -22.592893219))
            ThreePointArc((24.229314751, -22.592893219), (24.936421532, -22.3), (25.643528313, -22.592893219))
            Line((25.643528313, -22.592893219), (27.057741876, -24.007106781))
            ThreePointArc((27.057741876, -24.007106781), (27.350635095, -24.714213562), (27.057741876, -25.421320344))
        make_face()
    extrude(amount=-CUT_EXTRUDE1_DEPTH, mode=Mode.SUBTRACT)

    # Sketch5 → Cut-Extrude2 (cut)
    with BuildSketch(Plane.XY.offset(1)):
        with Locations((0, -35.9)):
            Circle(SKETCH5_R)
        with Locations((-15.6, -38.1)):
            Circle(SKETCH5_R_2)
        with Locations(Location((15.6, -38.1, 0), (0, 0, 180))):
            Circle(SKETCH5_R_2)
        with Locations((18.713881858, -20.612994231)):
            Circle(SKETCH5_R_2)
        with Locations((34.950635095, -14.2)):
            Circle(SKETCH5_R_2)
        with Locations(Location((34.950635095, 14.2, 0), (0, 0, 180))):
            Circle(SKETCH5_R_2)
        with Locations((-34.950635095, 14.2)):
            Circle(SKETCH5_R_2)
        with Locations(Location((-34.950635095, -14.2, 0), (0, 0, 180))):
            Circle(SKETCH5_R_2)
        with Locations((15.6, 38.1)):
            Circle(SKETCH5_R_2)
        with Locations(Location((0, 35.9, 0), (0, 0, 180))):
            Circle(SKETCH5_R)
        with Locations(Location((-15.6, 38.1, 0), (0, 0, 180))):
            Circle(SKETCH5_R_2)
        with Locations(Location((-18.713881858, -20.612994231, 0), (0, 0, 180))):
            Circle(SKETCH5_R_2)
        with Locations(Location((18.713881858, 20.612994231, 0), (0, 0, 180))):
            Circle(SKETCH5_R_2)
        with Locations((-18.713881858, 20.612994231)):
            Circle(SKETCH5_R_2)
    extrude(amount=-CUT_EXTRUDE2_DEPTH, mode=Mode.SUBTRACT)


solid = part.part
